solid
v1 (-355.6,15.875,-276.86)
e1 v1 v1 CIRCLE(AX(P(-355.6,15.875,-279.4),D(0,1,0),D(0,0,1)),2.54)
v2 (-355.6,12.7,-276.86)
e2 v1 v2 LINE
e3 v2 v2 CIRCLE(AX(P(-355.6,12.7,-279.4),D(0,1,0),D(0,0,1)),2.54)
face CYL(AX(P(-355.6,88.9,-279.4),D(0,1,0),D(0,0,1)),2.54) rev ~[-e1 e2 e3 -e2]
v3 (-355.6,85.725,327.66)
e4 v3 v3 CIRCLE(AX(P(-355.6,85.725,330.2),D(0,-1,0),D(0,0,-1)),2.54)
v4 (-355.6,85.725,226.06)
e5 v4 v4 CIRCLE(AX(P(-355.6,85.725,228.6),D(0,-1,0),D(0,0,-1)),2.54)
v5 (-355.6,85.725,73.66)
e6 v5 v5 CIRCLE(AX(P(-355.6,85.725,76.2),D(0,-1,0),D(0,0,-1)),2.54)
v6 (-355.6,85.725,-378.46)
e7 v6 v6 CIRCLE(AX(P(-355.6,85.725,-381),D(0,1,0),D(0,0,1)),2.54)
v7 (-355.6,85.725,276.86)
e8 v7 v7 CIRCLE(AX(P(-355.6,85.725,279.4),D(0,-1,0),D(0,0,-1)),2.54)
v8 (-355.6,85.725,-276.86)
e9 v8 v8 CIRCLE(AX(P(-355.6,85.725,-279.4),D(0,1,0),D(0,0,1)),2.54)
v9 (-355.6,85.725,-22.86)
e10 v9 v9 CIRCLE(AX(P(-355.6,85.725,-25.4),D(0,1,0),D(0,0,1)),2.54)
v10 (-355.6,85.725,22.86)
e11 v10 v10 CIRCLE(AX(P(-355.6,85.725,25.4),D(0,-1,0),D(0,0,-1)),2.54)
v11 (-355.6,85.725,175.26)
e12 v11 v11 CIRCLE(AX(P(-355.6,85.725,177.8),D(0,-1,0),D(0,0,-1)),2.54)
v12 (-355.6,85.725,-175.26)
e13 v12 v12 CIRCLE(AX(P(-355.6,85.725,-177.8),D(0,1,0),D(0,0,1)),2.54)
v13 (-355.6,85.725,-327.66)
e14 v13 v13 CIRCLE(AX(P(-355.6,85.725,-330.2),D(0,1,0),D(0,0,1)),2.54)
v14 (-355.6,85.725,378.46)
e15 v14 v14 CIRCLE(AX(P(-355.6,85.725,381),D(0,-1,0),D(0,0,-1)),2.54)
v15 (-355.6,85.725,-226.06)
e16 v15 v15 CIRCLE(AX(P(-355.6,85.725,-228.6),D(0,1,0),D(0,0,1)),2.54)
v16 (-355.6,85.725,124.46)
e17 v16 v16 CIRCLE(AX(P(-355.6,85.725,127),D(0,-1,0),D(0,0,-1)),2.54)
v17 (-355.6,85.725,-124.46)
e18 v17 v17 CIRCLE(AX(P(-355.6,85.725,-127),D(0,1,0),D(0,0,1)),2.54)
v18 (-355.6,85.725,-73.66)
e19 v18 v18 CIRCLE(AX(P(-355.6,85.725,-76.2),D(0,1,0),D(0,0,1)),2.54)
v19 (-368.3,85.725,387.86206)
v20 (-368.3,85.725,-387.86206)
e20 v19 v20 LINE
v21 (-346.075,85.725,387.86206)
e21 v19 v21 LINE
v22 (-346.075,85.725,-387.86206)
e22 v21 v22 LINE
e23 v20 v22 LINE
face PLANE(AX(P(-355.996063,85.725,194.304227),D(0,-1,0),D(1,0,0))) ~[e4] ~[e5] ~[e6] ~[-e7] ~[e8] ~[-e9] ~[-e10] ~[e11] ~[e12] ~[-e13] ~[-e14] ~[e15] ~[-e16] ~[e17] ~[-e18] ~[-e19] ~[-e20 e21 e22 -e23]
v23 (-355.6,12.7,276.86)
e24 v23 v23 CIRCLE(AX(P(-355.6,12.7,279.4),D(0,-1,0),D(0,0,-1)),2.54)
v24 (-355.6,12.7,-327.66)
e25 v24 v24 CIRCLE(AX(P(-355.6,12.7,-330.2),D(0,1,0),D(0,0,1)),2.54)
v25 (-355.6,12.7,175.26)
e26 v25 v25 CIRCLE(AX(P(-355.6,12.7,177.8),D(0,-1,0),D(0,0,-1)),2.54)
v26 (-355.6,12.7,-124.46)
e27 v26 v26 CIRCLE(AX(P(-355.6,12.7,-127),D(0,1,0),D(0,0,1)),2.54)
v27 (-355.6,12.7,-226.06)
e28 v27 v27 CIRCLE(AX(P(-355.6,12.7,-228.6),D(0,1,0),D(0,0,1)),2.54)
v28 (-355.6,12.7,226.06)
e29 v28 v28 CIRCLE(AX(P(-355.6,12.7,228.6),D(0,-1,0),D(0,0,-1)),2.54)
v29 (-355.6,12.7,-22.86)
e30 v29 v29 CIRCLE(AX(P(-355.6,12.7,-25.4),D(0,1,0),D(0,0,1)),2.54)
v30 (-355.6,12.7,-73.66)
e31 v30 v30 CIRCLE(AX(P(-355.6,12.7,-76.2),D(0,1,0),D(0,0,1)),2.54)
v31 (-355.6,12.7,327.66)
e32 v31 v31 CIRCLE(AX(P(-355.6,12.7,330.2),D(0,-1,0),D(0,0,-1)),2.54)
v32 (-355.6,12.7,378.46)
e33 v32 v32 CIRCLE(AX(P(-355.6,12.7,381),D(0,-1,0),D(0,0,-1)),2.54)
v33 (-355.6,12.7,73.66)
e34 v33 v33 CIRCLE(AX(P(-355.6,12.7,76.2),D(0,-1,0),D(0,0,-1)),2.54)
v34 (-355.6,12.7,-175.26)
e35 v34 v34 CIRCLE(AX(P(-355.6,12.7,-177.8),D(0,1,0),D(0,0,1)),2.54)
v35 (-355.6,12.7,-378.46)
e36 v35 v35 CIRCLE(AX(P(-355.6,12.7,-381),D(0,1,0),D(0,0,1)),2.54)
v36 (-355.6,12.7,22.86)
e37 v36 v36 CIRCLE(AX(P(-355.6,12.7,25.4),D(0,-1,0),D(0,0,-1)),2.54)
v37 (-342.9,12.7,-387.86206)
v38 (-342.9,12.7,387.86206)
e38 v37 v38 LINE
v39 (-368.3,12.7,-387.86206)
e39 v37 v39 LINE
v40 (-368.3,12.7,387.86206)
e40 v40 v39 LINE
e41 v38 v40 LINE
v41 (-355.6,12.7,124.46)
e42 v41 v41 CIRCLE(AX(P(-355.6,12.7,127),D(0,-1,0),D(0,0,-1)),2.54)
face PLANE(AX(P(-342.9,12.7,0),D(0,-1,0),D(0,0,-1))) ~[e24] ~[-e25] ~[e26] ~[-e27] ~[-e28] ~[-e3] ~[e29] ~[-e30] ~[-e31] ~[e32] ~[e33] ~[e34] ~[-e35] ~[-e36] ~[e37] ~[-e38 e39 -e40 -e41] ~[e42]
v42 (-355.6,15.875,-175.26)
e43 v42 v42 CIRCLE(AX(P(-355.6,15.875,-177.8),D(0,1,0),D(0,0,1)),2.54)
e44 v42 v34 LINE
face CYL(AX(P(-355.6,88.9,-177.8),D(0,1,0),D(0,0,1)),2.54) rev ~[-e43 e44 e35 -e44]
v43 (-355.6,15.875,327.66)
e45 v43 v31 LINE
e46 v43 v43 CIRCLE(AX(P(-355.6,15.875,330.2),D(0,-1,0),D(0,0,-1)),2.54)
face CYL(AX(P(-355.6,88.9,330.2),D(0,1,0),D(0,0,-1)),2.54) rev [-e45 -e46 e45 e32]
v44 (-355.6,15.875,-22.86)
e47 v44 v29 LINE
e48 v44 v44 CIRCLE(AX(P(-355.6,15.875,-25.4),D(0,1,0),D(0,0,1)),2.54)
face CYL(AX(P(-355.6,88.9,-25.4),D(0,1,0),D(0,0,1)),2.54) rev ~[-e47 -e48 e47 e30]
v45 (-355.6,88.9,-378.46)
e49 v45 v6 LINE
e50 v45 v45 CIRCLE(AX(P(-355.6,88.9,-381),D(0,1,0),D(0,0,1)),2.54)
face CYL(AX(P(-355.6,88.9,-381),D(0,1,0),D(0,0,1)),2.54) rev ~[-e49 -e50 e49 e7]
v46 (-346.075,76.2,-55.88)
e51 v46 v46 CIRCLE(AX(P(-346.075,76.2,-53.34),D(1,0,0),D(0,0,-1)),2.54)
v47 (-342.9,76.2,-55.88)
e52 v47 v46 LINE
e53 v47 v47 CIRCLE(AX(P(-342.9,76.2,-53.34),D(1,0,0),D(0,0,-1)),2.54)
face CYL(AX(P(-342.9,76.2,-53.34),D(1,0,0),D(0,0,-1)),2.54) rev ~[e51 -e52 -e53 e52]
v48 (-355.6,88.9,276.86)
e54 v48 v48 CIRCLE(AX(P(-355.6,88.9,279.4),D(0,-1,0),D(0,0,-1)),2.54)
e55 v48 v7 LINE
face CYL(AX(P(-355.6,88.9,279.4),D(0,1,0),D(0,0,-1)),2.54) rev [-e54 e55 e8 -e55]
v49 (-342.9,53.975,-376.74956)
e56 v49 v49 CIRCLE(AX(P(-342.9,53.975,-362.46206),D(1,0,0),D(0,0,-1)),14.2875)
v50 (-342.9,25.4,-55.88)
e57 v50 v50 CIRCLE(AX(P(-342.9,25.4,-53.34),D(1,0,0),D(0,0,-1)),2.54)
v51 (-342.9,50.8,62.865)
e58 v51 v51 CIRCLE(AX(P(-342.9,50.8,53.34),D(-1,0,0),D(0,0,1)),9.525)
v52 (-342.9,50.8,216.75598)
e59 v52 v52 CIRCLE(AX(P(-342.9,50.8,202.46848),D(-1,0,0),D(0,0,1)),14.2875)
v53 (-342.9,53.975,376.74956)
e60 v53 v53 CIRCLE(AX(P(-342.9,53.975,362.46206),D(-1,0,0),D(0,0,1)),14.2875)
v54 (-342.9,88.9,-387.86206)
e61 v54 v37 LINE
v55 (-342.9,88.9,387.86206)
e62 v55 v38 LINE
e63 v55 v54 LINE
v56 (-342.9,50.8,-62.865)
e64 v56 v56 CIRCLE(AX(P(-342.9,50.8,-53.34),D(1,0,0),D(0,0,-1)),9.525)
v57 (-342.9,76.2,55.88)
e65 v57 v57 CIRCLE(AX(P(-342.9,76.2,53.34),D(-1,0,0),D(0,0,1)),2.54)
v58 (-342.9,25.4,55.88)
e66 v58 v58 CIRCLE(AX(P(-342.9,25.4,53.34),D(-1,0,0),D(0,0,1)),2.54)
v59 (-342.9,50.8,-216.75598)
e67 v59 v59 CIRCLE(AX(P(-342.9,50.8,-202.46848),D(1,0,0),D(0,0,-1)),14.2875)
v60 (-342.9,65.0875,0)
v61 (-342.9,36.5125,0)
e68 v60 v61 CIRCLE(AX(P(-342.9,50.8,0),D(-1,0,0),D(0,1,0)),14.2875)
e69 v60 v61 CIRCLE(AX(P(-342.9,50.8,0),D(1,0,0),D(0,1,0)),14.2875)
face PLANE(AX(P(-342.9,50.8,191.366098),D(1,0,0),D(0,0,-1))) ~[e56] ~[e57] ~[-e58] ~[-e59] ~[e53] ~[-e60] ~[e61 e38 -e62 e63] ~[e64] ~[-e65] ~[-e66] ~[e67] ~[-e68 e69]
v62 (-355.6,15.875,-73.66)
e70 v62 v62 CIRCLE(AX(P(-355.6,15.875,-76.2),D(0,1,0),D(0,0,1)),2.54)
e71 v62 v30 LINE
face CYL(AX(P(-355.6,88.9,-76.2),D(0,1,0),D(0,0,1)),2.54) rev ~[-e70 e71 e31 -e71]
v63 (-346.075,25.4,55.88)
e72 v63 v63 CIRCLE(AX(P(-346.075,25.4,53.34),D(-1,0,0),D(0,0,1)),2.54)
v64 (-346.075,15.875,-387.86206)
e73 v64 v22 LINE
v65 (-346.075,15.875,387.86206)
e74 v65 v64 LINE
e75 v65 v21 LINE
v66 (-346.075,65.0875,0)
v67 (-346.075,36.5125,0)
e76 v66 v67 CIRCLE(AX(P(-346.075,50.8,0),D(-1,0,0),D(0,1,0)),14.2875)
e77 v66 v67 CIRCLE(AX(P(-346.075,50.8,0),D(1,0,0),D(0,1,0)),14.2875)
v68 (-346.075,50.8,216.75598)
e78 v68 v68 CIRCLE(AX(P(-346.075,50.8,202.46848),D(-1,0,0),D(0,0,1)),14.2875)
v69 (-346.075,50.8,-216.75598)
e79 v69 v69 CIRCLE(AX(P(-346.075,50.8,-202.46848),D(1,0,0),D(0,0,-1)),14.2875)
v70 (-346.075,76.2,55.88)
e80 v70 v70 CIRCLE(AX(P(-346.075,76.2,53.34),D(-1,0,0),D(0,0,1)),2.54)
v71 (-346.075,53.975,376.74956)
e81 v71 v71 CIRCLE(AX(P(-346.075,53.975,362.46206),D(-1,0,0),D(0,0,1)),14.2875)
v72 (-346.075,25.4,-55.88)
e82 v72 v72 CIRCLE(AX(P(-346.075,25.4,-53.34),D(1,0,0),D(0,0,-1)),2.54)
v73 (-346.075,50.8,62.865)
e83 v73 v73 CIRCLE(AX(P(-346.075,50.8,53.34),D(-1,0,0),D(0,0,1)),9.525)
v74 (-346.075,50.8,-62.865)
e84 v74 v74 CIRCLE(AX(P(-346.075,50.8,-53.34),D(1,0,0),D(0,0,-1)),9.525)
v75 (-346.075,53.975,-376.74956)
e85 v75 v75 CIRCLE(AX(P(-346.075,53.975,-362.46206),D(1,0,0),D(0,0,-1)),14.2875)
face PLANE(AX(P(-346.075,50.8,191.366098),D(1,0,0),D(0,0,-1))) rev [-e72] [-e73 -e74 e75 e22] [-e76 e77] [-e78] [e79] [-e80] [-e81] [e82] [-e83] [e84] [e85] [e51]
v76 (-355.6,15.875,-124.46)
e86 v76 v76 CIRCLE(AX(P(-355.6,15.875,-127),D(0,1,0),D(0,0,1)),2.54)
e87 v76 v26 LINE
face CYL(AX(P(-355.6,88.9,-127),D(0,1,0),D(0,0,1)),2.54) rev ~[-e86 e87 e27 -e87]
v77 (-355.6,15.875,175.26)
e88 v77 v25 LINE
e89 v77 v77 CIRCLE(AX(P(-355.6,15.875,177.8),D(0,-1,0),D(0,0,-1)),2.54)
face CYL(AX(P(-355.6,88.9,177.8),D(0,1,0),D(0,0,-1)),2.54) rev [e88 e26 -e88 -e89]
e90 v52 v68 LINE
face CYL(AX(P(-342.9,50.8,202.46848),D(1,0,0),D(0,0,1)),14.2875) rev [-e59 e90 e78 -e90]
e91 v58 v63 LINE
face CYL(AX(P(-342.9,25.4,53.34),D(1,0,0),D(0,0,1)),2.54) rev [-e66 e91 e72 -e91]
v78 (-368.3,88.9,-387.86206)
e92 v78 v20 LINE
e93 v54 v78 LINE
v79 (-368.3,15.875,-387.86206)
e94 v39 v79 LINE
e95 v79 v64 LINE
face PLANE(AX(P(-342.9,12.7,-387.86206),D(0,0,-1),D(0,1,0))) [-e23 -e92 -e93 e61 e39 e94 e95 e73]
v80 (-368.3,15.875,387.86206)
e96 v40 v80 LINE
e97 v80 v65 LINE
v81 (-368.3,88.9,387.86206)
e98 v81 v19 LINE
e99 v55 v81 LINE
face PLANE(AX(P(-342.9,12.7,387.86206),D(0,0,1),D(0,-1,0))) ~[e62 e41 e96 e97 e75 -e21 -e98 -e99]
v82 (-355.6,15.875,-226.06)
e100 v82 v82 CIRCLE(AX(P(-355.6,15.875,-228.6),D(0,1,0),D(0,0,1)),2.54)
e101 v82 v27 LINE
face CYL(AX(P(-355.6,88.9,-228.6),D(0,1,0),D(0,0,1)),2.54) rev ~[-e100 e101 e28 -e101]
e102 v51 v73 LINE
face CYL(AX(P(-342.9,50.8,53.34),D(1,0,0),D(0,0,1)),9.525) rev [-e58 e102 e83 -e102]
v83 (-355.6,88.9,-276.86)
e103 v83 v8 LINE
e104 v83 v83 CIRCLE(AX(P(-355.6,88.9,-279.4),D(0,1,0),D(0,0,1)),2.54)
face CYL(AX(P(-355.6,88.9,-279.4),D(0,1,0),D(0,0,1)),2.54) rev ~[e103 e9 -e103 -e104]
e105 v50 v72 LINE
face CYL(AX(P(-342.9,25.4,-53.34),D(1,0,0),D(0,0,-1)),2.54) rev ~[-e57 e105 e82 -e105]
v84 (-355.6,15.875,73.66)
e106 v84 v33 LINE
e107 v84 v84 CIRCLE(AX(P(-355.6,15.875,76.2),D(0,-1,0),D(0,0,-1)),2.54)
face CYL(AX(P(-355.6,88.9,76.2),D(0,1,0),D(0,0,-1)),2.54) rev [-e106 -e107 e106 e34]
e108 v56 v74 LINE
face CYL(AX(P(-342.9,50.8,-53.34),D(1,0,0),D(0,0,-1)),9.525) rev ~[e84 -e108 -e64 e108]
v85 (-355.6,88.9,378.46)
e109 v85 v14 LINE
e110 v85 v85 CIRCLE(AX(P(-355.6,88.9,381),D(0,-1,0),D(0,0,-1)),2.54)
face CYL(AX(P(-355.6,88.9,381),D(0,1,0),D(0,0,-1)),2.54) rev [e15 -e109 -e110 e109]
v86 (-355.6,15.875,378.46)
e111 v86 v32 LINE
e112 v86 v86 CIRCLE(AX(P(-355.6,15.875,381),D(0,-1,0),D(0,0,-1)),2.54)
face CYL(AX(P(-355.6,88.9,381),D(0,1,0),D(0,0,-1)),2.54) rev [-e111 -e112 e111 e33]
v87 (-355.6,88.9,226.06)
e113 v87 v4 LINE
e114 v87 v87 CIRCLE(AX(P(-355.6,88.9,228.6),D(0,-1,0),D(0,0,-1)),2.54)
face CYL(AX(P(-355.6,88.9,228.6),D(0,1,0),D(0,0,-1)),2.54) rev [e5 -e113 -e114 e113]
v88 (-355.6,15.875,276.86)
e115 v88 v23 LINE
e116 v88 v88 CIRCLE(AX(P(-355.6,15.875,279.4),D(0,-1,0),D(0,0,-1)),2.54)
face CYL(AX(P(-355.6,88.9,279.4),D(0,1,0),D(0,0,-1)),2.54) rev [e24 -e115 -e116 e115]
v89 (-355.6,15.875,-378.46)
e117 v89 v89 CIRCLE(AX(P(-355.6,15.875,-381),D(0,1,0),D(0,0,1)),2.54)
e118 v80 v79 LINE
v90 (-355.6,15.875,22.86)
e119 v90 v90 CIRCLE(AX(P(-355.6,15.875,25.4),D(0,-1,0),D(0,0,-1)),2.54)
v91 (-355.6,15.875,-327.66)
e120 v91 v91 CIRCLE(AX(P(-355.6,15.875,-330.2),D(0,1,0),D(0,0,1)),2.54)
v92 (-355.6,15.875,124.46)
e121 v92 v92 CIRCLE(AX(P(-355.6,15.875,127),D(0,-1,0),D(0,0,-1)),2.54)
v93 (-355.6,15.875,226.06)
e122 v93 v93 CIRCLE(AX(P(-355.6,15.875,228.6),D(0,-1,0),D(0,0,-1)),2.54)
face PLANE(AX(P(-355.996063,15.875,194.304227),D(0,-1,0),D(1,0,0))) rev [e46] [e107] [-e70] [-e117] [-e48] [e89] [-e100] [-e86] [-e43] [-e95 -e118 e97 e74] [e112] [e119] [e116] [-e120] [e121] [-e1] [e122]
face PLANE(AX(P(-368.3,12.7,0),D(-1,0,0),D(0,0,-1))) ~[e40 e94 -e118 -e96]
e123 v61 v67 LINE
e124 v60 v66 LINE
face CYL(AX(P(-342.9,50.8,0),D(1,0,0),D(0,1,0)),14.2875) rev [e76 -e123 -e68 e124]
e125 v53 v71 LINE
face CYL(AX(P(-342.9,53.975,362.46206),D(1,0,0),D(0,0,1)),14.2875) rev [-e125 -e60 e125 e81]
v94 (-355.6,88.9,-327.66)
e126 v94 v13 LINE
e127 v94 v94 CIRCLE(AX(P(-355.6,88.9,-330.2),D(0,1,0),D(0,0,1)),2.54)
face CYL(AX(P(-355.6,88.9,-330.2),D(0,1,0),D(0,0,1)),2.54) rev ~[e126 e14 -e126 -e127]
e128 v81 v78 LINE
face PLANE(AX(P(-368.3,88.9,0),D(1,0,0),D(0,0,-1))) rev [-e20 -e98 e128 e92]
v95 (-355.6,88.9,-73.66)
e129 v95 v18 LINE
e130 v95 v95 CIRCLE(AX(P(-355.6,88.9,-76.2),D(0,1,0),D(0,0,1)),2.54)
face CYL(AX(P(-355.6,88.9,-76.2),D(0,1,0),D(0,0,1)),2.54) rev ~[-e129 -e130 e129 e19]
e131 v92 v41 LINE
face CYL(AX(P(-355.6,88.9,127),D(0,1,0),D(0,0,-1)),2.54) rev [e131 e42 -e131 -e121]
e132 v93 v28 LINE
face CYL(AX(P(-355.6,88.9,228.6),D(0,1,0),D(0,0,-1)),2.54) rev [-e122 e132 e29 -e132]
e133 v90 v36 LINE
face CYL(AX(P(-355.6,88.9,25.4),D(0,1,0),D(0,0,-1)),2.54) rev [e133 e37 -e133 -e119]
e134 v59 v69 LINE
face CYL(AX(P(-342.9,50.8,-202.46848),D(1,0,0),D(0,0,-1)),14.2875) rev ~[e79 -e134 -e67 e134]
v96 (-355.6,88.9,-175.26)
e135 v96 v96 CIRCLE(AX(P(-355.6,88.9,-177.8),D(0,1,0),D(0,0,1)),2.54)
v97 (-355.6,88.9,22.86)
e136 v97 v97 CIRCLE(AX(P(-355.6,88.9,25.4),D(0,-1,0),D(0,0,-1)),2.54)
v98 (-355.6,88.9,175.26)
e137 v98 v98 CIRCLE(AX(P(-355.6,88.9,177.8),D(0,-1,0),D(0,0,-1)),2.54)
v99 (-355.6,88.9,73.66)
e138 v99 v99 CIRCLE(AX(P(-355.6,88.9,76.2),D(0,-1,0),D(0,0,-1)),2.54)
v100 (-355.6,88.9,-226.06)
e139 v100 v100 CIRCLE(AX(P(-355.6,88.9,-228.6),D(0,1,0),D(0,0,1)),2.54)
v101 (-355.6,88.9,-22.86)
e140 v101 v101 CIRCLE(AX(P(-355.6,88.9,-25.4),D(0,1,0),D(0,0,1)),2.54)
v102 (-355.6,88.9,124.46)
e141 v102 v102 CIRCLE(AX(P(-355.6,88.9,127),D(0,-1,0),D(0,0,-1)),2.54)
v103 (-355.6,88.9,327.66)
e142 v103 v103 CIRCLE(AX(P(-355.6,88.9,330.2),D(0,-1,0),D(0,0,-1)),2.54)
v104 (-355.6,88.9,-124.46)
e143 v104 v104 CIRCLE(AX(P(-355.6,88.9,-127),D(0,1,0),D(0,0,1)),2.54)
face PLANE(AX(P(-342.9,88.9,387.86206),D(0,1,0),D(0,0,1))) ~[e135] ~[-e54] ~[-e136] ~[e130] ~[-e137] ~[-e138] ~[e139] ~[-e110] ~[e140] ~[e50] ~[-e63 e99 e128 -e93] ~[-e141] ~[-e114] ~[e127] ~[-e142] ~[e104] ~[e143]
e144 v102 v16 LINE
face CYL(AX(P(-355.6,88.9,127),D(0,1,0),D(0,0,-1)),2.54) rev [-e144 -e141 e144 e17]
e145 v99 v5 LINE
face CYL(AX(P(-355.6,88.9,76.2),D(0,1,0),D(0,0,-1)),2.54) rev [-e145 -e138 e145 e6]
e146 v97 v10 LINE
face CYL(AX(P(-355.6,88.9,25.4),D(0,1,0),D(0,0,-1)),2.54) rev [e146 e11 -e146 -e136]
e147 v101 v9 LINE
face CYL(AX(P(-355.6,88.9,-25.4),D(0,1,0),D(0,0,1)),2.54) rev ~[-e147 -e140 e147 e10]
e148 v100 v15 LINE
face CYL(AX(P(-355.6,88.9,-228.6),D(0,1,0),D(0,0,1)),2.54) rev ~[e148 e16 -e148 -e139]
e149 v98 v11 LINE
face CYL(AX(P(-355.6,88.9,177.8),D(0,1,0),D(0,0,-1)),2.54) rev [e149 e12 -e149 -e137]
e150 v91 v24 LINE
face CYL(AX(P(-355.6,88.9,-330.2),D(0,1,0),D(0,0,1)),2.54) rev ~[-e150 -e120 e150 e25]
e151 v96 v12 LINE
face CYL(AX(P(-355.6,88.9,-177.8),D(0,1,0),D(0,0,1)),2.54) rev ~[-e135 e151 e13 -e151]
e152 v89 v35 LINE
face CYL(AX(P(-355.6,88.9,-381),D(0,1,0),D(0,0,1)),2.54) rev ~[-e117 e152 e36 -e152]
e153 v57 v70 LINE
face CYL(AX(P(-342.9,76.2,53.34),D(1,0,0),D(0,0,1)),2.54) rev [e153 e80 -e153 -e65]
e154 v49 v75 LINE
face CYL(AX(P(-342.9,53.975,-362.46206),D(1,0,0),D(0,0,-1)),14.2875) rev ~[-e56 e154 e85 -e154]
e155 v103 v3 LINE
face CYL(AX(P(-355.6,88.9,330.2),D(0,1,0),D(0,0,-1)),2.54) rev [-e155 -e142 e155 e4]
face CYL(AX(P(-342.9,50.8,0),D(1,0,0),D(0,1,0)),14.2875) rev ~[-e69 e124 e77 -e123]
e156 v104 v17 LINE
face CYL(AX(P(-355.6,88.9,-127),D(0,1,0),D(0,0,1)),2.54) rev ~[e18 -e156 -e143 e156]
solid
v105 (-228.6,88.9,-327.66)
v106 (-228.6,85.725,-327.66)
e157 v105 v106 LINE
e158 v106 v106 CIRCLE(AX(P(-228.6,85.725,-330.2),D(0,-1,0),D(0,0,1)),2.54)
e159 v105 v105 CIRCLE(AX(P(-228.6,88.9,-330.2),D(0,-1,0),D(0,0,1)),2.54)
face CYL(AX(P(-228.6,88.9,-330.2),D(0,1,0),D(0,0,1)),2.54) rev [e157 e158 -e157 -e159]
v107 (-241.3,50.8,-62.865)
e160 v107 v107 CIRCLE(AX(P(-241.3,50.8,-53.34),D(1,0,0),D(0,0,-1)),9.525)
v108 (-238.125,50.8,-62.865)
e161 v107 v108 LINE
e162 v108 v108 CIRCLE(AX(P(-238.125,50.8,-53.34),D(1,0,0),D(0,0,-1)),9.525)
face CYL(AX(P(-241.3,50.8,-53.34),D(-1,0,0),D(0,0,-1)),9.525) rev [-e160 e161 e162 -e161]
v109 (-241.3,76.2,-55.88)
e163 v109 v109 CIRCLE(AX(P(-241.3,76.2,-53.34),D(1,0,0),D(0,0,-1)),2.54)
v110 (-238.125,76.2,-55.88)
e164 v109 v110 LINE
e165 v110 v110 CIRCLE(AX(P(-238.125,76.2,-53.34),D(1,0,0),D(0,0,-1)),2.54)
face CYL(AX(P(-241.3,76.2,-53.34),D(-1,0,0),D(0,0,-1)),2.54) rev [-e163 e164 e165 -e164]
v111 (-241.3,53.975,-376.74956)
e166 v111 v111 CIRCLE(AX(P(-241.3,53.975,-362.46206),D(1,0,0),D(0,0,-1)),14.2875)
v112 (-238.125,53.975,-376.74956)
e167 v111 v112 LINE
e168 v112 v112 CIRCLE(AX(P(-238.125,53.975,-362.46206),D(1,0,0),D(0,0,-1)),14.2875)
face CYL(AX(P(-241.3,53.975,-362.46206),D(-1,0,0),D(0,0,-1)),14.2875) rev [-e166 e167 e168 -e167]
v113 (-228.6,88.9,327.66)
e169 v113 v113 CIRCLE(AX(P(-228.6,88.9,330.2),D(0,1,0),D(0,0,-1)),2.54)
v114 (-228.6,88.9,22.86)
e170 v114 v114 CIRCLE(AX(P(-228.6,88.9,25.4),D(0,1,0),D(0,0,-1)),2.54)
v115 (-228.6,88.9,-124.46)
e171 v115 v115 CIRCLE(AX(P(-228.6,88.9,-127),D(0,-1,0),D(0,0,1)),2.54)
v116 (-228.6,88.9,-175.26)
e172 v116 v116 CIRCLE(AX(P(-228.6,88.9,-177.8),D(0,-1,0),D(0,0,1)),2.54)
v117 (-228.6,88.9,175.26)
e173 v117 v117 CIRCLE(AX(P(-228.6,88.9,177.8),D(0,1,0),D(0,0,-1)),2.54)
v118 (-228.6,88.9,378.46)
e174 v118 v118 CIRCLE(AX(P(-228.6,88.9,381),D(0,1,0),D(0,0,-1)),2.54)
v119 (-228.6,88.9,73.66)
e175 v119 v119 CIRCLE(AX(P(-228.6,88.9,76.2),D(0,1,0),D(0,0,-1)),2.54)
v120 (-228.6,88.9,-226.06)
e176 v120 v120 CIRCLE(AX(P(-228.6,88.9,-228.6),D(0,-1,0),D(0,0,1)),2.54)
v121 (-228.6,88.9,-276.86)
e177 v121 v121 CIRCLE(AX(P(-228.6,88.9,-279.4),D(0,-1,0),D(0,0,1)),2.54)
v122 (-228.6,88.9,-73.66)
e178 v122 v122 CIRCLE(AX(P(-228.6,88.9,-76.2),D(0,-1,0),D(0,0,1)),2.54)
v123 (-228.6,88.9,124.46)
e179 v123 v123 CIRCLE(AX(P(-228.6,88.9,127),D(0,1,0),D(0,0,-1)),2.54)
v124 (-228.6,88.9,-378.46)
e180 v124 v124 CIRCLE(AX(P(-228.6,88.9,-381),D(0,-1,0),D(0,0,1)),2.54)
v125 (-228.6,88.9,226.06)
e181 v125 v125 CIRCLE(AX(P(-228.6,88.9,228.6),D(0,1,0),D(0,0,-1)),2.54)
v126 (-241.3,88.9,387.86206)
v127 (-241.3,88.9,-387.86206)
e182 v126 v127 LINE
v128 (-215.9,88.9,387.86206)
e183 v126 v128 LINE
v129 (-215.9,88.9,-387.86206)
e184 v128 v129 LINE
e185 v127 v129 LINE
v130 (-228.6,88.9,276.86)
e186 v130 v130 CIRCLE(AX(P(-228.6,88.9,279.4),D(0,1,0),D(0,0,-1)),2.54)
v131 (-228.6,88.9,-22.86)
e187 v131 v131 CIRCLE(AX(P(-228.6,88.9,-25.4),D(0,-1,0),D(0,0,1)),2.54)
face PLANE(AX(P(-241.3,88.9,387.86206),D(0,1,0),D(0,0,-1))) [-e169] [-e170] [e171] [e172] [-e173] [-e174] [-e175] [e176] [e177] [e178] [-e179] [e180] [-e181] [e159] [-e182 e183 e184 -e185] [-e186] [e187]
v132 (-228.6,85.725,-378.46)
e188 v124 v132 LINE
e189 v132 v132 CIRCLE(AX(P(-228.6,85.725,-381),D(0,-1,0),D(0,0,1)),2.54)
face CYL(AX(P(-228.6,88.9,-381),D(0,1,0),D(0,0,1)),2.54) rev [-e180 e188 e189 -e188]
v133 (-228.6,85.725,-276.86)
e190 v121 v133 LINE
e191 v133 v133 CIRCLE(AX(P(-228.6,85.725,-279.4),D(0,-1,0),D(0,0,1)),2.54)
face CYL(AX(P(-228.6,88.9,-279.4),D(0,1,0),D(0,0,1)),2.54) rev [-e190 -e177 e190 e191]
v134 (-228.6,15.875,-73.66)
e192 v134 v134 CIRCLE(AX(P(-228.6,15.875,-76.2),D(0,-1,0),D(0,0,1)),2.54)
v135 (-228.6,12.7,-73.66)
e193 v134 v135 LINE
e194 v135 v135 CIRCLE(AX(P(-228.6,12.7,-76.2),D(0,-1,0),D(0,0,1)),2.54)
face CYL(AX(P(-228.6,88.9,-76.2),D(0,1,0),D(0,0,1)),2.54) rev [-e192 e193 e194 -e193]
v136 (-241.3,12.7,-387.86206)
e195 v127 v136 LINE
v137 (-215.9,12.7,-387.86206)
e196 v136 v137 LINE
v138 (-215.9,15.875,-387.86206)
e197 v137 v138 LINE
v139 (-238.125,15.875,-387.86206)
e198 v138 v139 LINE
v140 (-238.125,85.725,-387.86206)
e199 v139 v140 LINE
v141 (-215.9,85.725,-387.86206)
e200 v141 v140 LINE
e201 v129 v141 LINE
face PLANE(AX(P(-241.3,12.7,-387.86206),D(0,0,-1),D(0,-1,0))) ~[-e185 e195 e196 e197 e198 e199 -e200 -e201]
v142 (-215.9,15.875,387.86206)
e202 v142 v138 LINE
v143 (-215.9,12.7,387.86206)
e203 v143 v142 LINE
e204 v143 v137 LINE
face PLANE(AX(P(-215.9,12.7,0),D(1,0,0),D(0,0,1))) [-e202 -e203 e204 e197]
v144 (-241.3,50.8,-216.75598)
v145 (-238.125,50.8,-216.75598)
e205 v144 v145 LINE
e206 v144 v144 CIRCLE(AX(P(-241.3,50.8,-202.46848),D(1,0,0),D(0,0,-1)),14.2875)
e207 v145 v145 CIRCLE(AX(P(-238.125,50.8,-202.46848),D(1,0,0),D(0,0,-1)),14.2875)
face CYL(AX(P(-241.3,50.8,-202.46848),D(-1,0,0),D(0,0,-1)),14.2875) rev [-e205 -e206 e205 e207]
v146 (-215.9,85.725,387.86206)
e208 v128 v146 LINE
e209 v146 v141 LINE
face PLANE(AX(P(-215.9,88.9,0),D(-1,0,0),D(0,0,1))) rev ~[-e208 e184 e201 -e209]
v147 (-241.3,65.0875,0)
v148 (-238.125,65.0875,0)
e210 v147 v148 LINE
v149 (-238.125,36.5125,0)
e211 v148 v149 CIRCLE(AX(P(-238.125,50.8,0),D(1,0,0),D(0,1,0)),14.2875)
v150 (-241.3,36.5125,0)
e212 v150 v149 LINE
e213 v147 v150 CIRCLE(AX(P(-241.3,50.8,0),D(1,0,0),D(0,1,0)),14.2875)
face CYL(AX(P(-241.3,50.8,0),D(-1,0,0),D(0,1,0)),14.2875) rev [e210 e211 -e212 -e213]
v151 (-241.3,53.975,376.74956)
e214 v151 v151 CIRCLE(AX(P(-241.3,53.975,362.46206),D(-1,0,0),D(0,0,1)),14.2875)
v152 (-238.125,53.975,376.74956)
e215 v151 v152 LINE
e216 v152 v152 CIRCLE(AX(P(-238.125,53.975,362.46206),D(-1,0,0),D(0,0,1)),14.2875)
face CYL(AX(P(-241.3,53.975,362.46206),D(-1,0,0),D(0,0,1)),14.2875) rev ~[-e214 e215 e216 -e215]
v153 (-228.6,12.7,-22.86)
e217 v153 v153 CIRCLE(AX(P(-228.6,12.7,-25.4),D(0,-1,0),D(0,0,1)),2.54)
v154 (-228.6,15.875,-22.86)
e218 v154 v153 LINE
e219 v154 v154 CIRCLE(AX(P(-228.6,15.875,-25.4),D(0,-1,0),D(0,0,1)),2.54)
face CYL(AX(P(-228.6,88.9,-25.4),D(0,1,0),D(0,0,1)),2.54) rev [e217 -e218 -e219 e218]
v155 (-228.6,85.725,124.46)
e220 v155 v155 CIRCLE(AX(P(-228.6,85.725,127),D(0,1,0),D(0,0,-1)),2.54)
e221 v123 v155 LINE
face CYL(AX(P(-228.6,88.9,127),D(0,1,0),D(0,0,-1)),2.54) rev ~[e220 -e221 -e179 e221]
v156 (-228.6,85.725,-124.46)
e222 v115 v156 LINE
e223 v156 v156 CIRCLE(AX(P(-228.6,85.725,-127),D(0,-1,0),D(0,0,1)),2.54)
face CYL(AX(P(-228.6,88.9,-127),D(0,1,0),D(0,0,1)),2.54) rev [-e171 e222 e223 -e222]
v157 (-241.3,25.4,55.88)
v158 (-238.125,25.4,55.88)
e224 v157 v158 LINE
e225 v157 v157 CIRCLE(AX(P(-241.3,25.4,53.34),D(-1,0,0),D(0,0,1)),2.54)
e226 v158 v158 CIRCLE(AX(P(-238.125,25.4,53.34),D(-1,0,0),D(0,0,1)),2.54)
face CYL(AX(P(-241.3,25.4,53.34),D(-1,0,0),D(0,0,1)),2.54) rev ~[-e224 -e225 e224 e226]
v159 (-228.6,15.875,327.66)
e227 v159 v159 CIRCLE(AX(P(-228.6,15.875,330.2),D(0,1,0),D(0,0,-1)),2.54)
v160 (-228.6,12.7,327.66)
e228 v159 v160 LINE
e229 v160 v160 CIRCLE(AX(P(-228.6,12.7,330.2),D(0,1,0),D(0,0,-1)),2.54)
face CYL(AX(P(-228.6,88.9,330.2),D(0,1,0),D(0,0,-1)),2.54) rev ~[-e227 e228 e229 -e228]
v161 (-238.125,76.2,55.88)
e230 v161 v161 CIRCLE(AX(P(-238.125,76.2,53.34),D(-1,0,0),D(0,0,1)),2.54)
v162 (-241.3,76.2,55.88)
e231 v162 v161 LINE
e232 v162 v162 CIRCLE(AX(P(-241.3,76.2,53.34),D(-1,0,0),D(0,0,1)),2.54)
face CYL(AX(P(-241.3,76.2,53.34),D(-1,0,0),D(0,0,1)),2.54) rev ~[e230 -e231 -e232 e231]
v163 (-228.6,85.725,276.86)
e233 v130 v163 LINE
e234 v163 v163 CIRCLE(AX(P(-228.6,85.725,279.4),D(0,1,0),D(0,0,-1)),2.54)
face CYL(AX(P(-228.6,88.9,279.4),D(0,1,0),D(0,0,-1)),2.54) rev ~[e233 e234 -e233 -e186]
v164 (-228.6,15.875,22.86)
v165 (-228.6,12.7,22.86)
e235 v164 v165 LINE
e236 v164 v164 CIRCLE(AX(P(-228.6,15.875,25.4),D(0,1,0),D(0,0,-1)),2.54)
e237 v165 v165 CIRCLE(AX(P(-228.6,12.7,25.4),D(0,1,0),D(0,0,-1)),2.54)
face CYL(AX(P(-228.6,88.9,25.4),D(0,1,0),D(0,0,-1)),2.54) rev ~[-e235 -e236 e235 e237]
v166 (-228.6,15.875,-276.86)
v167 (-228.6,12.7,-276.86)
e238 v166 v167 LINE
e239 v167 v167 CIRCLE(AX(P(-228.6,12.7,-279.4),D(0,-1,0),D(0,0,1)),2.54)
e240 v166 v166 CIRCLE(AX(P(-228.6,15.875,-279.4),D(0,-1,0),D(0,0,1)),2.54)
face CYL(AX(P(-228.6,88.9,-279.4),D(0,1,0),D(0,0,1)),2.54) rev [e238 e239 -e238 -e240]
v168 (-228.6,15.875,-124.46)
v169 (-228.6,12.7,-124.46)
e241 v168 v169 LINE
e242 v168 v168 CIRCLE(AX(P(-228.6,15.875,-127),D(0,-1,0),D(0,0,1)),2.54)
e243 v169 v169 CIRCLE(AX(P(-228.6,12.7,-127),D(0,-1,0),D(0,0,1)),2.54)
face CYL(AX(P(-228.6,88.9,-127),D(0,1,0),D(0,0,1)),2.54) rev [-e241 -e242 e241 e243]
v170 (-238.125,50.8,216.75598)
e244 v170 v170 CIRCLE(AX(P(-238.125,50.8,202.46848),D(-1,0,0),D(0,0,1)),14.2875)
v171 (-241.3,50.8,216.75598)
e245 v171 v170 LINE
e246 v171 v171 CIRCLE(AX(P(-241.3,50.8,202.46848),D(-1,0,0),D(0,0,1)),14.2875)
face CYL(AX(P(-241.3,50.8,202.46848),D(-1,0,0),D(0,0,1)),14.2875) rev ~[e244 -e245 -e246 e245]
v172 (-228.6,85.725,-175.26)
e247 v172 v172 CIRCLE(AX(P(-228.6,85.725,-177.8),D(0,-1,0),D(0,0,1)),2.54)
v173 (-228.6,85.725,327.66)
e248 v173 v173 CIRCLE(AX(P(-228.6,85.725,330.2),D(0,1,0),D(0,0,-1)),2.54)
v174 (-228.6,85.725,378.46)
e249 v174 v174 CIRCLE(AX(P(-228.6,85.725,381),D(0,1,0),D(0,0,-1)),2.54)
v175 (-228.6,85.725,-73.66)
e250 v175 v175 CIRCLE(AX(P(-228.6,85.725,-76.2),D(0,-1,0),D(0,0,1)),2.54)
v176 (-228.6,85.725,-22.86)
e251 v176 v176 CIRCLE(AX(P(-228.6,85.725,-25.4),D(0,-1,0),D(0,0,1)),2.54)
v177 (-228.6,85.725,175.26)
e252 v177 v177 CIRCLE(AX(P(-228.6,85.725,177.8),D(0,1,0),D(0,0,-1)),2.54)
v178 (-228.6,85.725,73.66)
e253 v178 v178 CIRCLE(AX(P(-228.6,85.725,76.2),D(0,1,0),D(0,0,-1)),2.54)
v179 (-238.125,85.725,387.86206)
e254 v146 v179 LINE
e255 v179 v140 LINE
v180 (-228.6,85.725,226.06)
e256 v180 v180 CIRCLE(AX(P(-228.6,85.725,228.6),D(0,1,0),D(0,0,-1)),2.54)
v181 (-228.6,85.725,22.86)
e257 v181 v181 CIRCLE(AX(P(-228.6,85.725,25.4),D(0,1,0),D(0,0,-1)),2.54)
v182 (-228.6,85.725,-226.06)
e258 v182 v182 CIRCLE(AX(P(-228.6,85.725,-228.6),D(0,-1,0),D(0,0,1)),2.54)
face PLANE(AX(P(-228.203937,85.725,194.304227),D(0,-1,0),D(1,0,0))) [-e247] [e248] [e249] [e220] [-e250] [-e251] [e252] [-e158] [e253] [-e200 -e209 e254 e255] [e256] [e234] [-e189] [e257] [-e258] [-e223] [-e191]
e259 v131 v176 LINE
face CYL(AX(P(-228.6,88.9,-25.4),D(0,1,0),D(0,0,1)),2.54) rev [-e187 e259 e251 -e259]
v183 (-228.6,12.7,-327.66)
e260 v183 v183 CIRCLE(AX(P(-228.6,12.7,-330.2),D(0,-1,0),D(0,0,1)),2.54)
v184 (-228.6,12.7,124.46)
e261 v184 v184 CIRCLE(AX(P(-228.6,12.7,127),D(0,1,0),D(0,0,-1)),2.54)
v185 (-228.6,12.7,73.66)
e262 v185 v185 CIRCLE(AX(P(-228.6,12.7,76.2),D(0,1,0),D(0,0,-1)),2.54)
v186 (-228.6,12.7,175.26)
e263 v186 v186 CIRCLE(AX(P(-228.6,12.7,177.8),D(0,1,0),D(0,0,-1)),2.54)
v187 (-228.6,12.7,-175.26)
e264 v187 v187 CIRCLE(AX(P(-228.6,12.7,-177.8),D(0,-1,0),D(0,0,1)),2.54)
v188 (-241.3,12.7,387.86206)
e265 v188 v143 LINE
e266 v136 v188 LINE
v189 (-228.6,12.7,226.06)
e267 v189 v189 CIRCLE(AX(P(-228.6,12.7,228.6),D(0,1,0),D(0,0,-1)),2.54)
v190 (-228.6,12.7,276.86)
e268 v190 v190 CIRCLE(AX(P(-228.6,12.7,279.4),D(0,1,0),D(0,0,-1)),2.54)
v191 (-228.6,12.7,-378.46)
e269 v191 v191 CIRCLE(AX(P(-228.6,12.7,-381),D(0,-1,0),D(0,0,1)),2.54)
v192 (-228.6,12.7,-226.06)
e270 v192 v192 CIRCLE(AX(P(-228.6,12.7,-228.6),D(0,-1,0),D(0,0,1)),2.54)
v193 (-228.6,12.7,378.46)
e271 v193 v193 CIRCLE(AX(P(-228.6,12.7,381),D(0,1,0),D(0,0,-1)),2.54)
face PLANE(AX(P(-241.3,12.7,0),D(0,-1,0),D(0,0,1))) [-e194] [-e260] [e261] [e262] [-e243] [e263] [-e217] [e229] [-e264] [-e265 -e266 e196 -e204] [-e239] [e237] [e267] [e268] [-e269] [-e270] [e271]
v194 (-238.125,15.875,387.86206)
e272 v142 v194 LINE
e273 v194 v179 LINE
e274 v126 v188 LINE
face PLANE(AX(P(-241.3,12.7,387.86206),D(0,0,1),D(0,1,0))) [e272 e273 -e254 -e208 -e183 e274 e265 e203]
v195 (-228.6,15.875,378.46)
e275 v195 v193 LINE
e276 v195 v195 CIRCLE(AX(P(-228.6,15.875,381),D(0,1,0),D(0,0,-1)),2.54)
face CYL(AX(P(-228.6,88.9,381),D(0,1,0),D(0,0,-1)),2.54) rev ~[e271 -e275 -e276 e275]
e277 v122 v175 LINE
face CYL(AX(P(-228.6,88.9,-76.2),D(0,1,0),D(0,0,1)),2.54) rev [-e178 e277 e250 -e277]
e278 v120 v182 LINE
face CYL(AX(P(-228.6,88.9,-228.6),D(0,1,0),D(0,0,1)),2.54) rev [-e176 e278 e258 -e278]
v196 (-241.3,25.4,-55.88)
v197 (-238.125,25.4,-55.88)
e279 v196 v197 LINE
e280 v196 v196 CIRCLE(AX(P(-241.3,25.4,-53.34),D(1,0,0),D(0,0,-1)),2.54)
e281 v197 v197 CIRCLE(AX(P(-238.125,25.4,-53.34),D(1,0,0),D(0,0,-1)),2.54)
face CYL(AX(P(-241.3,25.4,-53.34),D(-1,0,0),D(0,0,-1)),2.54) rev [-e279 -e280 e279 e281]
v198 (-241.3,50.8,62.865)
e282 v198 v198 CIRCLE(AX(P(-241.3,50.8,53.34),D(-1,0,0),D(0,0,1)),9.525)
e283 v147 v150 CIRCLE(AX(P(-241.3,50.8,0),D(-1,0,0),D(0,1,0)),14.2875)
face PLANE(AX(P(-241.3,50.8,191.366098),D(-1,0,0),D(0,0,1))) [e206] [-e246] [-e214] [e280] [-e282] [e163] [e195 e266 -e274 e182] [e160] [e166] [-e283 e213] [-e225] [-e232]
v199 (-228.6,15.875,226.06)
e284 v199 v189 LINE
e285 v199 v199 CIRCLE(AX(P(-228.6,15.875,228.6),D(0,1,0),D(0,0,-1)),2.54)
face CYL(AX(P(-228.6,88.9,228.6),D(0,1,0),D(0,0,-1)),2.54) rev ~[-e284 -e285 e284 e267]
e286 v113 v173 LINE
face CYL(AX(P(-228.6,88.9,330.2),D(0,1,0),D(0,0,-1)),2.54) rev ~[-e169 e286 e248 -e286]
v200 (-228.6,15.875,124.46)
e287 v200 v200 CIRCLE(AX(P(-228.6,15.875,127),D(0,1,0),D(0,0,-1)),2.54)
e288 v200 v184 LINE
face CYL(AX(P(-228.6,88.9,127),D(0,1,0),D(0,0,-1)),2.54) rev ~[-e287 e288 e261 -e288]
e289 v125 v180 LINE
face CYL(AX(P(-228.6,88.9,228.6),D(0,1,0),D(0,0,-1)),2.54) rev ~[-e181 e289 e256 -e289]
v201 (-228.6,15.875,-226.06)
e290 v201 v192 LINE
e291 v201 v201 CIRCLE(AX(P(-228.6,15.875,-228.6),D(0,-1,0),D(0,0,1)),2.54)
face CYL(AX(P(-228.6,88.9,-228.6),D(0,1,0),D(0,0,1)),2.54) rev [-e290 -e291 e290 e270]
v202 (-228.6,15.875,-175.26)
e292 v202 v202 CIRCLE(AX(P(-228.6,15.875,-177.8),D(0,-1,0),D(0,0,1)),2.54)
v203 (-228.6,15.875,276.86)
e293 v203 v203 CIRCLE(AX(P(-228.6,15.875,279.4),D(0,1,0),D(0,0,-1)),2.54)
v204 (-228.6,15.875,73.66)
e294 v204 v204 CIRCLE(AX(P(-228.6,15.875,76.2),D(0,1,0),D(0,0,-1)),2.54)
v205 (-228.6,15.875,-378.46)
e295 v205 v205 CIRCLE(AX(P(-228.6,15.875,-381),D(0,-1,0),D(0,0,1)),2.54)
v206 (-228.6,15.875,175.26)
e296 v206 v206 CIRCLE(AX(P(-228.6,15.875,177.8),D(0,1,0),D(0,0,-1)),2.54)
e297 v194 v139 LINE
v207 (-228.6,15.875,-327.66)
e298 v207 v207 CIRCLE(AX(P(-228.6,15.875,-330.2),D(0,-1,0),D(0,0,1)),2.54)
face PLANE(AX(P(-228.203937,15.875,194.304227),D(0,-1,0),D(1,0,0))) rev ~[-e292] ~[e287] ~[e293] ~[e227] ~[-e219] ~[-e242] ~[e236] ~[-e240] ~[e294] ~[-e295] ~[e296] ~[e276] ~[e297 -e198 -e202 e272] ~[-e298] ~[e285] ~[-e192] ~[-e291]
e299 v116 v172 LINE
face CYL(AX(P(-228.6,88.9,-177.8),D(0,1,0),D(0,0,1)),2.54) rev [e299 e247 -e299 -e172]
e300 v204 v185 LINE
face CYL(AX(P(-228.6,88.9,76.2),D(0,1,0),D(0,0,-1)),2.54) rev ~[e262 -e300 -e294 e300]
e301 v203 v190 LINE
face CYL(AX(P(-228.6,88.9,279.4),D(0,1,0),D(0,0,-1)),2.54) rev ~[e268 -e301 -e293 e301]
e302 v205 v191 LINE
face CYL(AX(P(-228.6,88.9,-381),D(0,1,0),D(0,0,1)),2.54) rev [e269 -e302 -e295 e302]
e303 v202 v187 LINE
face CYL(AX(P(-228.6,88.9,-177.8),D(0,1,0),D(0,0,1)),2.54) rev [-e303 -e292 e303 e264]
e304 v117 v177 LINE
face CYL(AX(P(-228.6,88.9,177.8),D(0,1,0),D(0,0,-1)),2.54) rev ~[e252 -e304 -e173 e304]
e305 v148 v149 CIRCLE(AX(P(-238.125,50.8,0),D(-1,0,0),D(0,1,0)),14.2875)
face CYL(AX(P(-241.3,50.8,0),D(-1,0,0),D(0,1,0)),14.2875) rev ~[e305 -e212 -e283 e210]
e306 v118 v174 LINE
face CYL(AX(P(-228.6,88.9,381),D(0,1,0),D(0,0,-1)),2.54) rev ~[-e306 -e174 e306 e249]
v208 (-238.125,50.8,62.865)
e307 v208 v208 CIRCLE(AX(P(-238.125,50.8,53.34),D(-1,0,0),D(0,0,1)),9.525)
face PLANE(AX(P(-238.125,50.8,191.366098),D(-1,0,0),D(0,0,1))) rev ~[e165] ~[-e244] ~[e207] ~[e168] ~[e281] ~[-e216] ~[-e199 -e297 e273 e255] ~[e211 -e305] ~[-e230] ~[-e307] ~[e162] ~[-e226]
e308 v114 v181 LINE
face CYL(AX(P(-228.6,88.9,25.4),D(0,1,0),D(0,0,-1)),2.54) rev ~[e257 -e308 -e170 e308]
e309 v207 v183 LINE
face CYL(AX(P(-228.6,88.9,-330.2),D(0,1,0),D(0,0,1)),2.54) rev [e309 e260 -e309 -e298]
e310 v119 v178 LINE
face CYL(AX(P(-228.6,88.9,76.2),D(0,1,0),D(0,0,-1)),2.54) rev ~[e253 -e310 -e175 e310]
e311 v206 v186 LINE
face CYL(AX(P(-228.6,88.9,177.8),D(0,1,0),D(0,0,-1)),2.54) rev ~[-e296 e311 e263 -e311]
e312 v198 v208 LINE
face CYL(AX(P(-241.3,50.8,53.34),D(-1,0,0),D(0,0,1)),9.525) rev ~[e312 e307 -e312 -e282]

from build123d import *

# Parameters (mm, degrees)
BOSS_EXTRUDE1_START = -342.9
SKETCH4_R           = 2.54
SKETCH4_R_2         = 9.525
SKETCH4_R_3         = 14.2875
BOSS_EXTRUDE1_DEPTH = 3.175
BOSS_EXTRUDE2_DEPTH = 3.175
BOSS_EXTRUDE3_START = -76.2
BOSS_EXTRUDE3_DEPTH = 3.175
SKETCH9_R           = 2.54
CUT_EXTRUDE2_DEPTH  = 541.266885435
LPATTERN1_COUNT     = 10
LPATTERN1_PITCH     = 50.8


with BuildPart() as part:
    # Sketch4 → Boss-Extrude1 (new body)
    with BuildSketch(Plane(origin=(0, 0, 0), x_dir=(0, 0, -1), z_dir=(1, 0, 0)).offset(BOSS_EXTRUDE1_START)):
        with BuildLine():
            Line((387.862059884, 88.9), (0, 88.9))
            Line((0, 88.9), (0, 65.0875))
            ThreePointArc((0, 65.0875), (14.2875, 50.8), (0, 36.5125))
            Line((0, 36.5125), (0, 12.7))
            Line((0, 12.7), (387.862059884, 12.7))
            Line((387.862059884, 12.7), (387.862059884, 88.9))
        make_face()
        with Locations((53.34, 25.4)):
            Circle(SKETCH4_R, mode=Mode.SUBTRACT)
        with Locations((53.34, 50.8)):
            Circle(SKETCH4_R_2, mode=Mode.SUBTRACT)
        with Locations((53.34, 76.2)):
            Circle(SKETCH4_R, mode=Mode.SUBTRACT)
        with Locations((202.46848, 50.8)):
            Circle(SKETCH4_R_3, mode=Mode.SUBTRACT)
        with Locations((362.462059884, 53.975)):
            Circle(SKETCH4_R_3, mode=Mode.SUBTRACT)
    extrude(amount=-BOSS_EXTRUDE1_DEPTH)

    # Sketch7 → Boss-Extrude2 (add)
    with BuildSketch(Plane(origin=(0, 88.9, 0), x_dir=(1, 0, 0), z_dir=(0, 1, 0))):
        Polygon((-344.4875, 0), (-368.3, 0), (-368.3, 387.862059884), (-342.9, 387.862059884), align=None)
    extrude(amount=-BOSS_EXTRUDE2_DEPTH)

    # Sketch7<2> → Boss-Extrude3 (add)
    with BuildSketch(Plane(origin=(0, 88.9, 0), x_dir=(1, 0, 0), z_dir=(0, 1, 0)).offset(BOSS_EXTRUDE3_START)):
        Polygon((-344.4875, 0), (-368.3, 0), (-368.3, 387.862059884), (-342.9, 387.862059884), align=None)
    extrude(amount=BOSS_EXTRUDE3_DEPTH)

    # Sketch9 → Cut-Extrude2 (cut, through all)
    with BuildSketch(Plane(origin=(0, 88.9, 0), x_dir=(1, 0, 0), z_dir=(0, 1, 0))):
        with Locations(Location((-355.6, 381, 0), (0, 0, 270))):
            Circle(SKETCH9_R)
    cut_extrude2 = extrude(amount=-CUT_EXTRUDE2_DEPTH, mode=Mode.SUBTRACT)

    # LPattern1: Cut-Extrude2 ×10
    with Locations(*[(0, 0, i * LPATTERN1_PITCH) for i in range(1, LPATTERN1_COUNT)]):
        add(cut_extrude2, mode=Mode.SUBTRACT)

    # Mirror1: part across plane


with BuildPart() as part_1:
    add(part.part)
    add(part.part.mirror(Plane(origin=(-346.075, 88.9, 0), x_dir=(1, 0, 0), z_dir=(0, 0, 1))))


with BuildPart() as body_2:
    # Mirror4: mirrored copy
    add(part_1.part.mirror(Plane(origin=(-292.1, 0, 0), x_dir=(0, 0, 1), z_dir=(1, 0, 0))))


solid = Compound([part_1.part, body_2.part])
